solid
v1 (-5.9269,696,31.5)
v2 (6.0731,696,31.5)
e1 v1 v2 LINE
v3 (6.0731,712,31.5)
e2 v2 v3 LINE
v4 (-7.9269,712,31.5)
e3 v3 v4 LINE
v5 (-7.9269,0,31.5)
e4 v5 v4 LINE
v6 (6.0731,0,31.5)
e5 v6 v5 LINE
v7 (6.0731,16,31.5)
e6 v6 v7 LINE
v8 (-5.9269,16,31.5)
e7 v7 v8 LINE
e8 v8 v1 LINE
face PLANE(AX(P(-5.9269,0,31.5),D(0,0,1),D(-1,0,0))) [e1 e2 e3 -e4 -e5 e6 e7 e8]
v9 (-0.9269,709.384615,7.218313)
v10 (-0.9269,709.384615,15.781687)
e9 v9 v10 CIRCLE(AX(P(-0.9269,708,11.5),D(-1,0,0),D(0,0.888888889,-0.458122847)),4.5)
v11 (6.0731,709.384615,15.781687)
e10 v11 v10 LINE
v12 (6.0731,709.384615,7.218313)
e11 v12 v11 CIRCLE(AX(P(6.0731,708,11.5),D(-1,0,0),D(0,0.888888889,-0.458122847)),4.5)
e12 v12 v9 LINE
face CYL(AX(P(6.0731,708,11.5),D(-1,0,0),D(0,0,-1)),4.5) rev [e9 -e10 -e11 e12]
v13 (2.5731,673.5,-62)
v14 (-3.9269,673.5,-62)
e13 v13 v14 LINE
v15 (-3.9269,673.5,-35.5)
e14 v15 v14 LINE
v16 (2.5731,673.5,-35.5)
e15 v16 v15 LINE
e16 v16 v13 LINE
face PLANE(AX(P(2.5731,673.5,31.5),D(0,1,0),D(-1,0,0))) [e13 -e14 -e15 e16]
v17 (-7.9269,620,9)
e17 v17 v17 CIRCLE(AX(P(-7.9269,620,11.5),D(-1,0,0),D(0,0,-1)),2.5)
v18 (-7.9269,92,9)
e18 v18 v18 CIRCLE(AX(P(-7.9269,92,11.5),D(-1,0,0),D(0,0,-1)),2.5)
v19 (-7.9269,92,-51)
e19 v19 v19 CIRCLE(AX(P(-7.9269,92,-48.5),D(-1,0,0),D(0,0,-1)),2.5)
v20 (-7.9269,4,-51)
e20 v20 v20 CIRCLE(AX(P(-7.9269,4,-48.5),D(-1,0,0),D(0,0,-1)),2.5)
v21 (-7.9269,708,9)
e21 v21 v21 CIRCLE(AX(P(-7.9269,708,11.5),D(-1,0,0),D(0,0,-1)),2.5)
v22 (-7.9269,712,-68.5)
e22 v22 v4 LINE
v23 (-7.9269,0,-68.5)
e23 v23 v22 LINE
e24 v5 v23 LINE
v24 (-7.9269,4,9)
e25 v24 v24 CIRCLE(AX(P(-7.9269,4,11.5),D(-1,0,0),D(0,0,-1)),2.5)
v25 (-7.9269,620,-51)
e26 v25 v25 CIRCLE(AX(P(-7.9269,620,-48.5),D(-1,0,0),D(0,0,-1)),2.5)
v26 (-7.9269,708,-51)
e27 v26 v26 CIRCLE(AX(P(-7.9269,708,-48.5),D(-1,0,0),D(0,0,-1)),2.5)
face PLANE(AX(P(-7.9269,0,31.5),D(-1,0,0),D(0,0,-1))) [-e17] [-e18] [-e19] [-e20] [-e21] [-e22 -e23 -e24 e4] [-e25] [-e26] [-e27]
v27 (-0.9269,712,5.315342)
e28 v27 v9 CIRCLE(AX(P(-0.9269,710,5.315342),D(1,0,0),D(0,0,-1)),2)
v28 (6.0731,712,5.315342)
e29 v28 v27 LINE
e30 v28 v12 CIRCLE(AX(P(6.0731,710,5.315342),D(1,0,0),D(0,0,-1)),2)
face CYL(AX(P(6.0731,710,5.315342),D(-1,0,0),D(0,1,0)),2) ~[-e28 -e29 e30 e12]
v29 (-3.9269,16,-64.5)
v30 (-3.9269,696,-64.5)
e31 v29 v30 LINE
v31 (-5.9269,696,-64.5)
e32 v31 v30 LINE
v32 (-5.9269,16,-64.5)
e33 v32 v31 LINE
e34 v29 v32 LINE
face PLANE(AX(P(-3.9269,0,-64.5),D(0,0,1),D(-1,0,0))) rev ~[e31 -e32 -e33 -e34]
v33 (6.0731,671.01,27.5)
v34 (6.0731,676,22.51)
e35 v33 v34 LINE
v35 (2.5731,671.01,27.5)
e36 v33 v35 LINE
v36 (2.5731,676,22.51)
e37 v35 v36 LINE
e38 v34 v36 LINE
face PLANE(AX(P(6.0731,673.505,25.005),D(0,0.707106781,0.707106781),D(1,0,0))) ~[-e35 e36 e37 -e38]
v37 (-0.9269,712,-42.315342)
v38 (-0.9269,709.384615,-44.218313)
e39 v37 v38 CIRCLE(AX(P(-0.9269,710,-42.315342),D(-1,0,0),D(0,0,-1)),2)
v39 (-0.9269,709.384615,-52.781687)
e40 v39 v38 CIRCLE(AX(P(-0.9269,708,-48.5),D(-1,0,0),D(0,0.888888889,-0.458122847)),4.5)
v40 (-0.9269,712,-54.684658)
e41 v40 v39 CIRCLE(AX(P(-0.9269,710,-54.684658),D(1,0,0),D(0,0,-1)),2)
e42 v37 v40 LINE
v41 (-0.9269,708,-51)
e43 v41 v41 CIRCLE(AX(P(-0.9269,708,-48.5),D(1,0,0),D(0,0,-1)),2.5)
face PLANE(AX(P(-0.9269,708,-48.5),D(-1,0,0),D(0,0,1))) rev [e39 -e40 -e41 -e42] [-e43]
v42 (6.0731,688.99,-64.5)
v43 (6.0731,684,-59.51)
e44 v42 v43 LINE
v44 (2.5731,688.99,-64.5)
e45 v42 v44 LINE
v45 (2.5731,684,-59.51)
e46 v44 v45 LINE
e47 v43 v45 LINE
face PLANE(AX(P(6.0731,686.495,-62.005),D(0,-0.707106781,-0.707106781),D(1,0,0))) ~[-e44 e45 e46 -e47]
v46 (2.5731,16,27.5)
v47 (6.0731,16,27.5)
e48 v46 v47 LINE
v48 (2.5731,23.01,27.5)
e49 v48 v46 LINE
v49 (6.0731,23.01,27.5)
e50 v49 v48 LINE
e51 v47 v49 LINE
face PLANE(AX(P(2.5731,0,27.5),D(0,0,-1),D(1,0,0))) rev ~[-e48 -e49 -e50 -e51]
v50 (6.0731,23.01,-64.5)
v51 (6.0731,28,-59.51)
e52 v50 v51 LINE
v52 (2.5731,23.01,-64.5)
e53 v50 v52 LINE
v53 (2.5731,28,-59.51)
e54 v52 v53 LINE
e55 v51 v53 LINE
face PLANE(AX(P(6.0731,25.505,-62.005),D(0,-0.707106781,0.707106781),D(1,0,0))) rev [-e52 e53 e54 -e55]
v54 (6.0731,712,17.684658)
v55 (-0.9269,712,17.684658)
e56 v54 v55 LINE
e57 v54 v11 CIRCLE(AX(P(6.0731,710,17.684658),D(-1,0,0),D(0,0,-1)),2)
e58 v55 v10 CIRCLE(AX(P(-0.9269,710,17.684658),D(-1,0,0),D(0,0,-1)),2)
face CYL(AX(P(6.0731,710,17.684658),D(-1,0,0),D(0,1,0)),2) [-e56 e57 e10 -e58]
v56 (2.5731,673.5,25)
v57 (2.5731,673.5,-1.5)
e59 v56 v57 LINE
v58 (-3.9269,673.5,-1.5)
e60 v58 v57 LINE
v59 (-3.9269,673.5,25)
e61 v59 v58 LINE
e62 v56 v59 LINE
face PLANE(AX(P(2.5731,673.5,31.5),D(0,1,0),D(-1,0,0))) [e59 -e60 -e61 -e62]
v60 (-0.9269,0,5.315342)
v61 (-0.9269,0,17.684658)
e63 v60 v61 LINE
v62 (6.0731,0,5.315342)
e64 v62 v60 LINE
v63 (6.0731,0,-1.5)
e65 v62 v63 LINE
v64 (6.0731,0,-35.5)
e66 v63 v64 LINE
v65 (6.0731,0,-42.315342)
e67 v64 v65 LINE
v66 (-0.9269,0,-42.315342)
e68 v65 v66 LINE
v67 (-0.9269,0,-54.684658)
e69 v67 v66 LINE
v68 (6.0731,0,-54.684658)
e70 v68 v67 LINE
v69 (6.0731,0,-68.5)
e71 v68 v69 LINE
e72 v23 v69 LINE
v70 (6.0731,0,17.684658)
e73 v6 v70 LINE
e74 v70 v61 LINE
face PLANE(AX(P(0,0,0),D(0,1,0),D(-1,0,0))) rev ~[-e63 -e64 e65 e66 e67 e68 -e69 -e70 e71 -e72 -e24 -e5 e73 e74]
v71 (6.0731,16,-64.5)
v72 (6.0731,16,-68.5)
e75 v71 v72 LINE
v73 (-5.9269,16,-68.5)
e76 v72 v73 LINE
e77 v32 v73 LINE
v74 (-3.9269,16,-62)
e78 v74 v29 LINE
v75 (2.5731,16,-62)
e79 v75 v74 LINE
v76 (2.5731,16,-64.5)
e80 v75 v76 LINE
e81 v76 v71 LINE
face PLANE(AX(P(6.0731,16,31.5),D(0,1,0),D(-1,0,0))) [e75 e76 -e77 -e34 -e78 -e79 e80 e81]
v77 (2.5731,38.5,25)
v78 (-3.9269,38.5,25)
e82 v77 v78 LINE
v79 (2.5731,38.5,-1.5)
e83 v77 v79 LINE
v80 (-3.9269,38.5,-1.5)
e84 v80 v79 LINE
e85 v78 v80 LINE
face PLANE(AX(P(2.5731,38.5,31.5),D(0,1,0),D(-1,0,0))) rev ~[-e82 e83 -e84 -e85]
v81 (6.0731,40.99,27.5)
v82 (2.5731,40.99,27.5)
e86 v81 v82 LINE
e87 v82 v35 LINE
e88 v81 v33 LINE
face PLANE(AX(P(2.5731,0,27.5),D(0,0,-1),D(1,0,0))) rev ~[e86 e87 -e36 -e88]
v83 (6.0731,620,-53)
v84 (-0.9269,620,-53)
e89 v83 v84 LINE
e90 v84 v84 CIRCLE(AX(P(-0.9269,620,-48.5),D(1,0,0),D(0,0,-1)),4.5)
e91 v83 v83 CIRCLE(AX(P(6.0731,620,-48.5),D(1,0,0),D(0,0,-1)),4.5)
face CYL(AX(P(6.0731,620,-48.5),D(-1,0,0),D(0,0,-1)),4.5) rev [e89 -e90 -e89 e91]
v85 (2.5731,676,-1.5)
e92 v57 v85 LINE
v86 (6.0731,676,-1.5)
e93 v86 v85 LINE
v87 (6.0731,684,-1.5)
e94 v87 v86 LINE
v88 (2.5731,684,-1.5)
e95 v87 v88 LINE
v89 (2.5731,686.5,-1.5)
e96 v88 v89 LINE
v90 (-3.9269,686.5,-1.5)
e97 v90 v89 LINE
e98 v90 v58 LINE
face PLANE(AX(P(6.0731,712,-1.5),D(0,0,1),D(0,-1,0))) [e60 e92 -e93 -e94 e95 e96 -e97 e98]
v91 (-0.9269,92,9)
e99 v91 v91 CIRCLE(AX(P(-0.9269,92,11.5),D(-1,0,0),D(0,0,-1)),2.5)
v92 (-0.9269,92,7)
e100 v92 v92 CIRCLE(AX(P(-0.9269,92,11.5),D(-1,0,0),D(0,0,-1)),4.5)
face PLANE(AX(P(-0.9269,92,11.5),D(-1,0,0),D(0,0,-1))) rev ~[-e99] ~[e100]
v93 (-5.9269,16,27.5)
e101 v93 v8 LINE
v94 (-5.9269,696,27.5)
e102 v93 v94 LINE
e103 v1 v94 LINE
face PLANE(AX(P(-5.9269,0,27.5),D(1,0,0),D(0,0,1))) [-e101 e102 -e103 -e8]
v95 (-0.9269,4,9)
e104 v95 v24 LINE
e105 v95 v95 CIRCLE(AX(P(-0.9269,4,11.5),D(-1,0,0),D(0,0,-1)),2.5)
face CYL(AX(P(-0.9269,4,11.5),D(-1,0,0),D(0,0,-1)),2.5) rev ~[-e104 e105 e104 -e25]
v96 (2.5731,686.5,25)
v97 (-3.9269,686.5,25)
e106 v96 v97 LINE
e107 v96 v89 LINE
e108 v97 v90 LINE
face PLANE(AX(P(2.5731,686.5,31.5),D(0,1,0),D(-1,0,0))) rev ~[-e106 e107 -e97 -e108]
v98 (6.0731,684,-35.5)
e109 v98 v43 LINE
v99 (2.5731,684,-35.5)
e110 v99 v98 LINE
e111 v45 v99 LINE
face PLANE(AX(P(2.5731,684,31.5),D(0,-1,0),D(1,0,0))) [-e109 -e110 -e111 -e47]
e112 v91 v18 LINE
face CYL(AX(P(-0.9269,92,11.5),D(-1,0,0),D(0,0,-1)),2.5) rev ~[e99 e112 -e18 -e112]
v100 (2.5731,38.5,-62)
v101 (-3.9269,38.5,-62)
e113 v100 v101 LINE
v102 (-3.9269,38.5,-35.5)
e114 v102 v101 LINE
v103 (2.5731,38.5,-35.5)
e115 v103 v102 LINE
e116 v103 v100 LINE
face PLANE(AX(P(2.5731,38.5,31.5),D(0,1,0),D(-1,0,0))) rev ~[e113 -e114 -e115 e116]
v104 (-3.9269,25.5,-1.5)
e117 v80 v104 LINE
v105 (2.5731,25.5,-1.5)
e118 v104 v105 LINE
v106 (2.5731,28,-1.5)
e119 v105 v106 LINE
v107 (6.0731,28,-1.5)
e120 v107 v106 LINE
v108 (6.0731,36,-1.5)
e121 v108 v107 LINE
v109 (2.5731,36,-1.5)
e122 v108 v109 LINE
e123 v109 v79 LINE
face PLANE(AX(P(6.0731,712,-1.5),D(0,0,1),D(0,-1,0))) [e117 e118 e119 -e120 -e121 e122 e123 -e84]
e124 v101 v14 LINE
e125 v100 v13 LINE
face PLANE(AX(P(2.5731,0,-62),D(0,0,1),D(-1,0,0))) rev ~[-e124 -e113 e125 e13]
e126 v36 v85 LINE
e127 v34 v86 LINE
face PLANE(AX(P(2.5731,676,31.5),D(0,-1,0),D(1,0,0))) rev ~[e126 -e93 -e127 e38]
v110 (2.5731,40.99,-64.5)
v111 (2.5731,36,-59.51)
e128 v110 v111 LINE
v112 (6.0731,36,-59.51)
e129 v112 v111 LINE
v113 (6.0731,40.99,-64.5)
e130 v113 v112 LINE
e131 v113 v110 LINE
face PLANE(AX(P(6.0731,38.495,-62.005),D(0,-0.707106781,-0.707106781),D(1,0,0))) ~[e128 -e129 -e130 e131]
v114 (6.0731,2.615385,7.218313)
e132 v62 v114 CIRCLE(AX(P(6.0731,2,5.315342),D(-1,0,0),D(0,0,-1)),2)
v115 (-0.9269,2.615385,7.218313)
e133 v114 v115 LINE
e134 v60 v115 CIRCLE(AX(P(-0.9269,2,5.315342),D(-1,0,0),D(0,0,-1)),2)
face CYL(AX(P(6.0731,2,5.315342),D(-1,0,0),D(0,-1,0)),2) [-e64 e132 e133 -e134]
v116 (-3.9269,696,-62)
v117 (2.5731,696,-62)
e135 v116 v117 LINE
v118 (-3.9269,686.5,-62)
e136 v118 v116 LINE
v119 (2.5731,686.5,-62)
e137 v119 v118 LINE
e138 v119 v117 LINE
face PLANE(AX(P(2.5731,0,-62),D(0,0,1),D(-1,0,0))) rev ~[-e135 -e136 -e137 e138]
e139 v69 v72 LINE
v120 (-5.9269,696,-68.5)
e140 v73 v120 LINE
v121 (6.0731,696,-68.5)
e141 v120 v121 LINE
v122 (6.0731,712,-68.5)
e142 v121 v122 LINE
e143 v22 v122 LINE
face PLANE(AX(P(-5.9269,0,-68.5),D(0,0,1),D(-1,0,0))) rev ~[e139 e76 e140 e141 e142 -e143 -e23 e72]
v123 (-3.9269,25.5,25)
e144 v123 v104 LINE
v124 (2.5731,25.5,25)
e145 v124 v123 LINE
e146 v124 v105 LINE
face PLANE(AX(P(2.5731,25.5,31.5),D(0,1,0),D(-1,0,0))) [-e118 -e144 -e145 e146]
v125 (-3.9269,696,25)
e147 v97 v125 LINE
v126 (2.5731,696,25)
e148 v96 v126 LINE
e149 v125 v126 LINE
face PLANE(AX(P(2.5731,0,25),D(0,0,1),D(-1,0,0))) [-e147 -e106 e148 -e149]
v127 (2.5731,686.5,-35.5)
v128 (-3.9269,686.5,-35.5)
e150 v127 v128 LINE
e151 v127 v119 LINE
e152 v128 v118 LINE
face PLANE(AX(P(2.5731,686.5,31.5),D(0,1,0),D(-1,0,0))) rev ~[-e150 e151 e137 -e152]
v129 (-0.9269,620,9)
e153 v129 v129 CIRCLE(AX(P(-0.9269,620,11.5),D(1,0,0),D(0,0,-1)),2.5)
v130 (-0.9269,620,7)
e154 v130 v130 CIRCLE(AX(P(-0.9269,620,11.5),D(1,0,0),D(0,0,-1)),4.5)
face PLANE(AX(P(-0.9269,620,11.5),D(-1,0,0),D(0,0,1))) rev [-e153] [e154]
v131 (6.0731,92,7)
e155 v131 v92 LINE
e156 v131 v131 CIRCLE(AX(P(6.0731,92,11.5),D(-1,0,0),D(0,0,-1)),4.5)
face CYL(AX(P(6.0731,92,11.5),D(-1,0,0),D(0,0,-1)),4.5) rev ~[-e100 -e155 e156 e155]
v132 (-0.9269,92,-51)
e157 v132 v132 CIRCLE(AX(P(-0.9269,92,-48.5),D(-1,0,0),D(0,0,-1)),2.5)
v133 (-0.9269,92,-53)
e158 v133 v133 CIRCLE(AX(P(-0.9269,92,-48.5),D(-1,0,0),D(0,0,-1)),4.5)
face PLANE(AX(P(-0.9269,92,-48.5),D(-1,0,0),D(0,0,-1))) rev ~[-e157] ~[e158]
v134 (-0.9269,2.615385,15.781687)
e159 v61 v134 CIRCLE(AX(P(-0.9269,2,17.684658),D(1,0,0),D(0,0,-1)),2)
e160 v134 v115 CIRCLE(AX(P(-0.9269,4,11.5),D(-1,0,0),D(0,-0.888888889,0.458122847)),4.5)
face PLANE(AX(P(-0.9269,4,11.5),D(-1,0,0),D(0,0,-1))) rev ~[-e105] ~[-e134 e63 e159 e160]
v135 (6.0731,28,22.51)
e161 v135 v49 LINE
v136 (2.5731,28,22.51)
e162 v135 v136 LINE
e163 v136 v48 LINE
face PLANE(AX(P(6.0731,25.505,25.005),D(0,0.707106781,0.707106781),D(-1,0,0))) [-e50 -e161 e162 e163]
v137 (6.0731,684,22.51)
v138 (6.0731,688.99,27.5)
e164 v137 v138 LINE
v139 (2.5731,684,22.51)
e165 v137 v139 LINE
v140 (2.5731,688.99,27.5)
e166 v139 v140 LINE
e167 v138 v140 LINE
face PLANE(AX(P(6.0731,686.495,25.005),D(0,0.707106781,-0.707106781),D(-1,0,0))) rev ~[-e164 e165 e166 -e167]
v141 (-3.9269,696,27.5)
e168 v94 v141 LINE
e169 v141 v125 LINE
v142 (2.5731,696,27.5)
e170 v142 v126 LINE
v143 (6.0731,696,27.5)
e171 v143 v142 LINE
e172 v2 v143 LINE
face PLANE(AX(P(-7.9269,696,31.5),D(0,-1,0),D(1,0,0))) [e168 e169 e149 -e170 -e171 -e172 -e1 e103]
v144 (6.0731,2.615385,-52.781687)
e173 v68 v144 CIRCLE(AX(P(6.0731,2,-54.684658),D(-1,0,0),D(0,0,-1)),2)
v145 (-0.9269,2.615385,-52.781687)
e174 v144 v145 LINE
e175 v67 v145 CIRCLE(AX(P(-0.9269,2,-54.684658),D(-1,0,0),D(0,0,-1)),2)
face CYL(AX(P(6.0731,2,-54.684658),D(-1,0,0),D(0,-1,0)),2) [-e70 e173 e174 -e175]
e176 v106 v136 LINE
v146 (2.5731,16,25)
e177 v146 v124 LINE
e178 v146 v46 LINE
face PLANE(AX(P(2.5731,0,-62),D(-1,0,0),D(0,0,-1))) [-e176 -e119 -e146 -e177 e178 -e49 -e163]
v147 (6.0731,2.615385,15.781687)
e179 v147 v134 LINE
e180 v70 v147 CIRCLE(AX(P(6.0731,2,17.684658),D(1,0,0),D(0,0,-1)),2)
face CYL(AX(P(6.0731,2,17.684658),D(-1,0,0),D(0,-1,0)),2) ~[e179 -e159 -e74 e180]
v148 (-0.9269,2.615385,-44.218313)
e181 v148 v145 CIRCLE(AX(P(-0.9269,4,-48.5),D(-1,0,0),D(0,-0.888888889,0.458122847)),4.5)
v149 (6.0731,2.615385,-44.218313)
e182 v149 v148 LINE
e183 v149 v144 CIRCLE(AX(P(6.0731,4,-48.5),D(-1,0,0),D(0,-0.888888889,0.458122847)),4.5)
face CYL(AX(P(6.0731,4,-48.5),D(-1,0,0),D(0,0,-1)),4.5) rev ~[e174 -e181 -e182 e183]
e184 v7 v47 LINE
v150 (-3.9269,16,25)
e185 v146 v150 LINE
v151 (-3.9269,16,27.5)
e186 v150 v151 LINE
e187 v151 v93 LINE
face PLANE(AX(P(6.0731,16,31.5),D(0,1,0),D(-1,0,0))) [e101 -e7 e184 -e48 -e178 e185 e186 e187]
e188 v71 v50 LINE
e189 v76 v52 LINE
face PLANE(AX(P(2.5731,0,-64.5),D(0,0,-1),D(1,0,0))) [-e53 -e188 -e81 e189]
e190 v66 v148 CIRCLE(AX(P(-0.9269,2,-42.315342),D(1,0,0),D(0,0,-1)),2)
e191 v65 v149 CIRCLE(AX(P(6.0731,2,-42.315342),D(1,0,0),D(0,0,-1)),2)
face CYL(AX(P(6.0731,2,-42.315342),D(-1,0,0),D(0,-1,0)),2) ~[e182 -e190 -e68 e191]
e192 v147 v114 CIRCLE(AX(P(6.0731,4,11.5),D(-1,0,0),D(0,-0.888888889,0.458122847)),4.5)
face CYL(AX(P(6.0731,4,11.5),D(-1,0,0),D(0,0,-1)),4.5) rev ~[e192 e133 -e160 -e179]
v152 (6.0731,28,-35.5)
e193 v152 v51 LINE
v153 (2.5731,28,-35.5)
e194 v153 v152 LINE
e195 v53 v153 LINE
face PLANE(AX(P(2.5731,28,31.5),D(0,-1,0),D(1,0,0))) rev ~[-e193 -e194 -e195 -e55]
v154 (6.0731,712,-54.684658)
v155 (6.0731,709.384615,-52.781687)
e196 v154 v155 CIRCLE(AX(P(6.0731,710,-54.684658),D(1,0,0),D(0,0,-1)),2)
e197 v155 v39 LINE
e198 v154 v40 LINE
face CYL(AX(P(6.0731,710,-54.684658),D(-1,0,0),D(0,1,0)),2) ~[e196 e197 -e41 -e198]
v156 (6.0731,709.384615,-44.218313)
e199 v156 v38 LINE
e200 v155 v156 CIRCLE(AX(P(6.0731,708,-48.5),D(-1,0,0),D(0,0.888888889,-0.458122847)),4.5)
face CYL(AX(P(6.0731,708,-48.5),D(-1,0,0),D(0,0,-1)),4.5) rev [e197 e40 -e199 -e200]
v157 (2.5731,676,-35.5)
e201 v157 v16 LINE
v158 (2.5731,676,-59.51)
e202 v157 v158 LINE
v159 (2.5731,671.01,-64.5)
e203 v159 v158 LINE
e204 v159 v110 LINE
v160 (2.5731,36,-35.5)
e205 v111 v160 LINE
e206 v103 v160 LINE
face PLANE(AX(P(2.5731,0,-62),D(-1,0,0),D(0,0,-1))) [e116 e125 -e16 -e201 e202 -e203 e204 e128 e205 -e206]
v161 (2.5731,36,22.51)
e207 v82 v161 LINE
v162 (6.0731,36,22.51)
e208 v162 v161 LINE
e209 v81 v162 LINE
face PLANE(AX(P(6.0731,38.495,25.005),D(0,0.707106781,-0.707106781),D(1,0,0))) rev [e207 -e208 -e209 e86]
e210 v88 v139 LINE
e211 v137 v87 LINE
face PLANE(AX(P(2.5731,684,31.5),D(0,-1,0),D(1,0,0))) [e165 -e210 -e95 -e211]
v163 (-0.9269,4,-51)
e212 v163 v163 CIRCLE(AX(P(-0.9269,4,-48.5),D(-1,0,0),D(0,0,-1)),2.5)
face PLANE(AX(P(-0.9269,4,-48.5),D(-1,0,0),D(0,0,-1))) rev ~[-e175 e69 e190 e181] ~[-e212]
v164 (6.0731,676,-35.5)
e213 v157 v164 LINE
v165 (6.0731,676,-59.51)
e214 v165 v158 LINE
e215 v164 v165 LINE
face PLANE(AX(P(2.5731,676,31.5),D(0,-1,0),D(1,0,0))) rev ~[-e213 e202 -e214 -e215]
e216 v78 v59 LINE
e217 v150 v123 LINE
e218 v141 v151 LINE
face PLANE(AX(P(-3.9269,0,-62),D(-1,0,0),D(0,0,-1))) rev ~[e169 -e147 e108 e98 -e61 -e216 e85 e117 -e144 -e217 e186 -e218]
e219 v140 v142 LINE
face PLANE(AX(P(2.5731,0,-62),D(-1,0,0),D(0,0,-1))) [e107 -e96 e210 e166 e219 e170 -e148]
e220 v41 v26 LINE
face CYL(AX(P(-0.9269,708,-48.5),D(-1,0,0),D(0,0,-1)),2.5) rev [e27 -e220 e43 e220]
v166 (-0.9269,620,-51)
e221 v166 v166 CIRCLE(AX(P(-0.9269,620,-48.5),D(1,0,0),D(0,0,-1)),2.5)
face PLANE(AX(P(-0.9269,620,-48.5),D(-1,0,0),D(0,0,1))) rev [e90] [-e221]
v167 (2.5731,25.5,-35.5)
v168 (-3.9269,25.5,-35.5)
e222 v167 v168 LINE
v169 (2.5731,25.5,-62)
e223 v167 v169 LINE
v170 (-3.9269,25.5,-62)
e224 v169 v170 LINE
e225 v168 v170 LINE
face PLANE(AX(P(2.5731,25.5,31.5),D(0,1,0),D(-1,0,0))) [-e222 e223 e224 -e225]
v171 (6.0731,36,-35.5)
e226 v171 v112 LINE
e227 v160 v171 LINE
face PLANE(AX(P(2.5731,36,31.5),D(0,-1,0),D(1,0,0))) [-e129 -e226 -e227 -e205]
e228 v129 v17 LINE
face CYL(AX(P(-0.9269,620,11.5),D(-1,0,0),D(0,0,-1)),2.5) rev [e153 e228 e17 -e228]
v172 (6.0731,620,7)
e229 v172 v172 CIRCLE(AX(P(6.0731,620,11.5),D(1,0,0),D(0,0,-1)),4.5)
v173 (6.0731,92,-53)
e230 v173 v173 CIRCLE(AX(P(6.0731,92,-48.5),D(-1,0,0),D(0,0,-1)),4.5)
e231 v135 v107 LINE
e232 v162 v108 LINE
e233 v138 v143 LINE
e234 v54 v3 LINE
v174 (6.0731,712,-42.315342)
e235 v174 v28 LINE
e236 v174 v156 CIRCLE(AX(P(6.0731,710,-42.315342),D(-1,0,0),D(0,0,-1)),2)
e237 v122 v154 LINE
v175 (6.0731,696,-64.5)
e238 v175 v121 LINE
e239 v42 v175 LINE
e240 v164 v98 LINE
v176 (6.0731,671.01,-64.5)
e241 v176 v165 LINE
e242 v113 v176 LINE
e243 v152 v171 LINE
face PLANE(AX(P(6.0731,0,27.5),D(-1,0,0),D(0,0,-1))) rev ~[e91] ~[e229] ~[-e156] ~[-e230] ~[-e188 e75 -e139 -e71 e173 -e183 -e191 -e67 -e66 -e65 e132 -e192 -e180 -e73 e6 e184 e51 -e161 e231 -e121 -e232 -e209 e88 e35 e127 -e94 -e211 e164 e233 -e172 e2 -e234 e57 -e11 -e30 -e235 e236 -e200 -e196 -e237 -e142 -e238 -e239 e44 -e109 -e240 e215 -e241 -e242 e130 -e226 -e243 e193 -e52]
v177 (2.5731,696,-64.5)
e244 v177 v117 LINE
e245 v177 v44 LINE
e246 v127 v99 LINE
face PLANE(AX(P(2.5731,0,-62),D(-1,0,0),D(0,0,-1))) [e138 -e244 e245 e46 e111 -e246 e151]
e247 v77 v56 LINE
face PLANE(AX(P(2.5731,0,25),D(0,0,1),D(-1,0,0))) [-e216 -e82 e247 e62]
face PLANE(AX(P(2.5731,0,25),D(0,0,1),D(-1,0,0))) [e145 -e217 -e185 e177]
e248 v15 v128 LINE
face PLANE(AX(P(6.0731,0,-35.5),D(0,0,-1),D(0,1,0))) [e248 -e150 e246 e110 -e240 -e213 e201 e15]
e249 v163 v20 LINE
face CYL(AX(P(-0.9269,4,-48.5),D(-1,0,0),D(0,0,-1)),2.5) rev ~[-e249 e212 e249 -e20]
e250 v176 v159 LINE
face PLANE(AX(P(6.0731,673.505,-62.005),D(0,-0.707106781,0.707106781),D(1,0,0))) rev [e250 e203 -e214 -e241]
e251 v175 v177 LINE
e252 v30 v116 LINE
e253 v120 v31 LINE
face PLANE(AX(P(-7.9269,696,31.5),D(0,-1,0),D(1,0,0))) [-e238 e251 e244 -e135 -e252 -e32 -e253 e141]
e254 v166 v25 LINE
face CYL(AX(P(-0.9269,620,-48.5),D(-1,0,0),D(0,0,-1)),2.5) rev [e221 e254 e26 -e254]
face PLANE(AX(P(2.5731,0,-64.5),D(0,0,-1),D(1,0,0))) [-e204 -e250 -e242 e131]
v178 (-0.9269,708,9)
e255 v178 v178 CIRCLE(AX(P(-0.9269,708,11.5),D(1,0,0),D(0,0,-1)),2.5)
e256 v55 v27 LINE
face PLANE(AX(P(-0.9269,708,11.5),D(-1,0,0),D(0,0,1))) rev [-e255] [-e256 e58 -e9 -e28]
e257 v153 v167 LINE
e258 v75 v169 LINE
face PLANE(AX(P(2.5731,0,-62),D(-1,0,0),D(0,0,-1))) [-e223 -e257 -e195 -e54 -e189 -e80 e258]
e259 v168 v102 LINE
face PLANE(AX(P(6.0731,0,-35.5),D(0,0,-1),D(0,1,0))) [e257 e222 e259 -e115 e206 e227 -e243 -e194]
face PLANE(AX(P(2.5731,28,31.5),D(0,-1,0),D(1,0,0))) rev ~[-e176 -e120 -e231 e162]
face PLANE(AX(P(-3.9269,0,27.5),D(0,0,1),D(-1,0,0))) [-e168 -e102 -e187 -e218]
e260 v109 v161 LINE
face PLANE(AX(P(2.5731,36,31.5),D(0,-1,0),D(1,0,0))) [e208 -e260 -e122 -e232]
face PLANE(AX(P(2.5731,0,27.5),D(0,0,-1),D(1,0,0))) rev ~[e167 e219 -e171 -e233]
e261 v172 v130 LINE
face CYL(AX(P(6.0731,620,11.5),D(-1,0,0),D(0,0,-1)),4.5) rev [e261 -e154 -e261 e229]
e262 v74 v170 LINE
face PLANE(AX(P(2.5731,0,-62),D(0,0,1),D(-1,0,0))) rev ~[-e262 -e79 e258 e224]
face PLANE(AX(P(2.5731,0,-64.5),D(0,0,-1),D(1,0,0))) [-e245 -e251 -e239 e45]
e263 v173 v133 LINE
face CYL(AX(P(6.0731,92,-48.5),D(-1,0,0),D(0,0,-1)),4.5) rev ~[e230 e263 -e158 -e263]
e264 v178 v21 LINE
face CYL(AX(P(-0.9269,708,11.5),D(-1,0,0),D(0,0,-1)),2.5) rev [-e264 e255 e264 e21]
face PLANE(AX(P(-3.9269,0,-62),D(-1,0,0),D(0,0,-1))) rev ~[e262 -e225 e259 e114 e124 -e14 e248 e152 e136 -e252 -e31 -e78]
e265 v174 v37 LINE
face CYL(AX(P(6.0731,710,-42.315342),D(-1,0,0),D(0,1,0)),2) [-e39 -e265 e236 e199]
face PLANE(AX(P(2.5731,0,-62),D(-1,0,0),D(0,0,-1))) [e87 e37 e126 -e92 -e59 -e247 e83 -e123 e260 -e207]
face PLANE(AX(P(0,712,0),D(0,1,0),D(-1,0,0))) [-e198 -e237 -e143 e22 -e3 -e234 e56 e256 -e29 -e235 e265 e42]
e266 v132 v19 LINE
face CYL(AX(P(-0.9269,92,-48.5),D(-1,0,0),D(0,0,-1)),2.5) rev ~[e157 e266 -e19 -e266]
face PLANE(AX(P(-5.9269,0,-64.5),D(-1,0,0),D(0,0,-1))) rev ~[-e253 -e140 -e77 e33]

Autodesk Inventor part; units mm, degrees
ref_plane "YZ Plane" through (0, 0, 0) normal (1, 0, 0) x (0, 1, 0)
ref_plane "XZ Plane" through (0, 0, 0) normal (0, 1, 0) x (-1, 0, 0)
ref_plane "XY Plane" through (0, 0, 0) normal (0, 0, 1) x (1, 0, 0)
sketch "Эскиз1" plane through (0, 0, 0) normal (0, 1, 0) x (-1, 0, 0)
  line L0 (-6.0731, 25) -> (3.9269, 25)
  line L1 (-6.0731, -62) -> (-6.0731, 25)
  line L2 (3.9269, 31.5) -> (7.9269, 31.5)
  line L3 (7.9269, 31.5) -> (7.9269, -68.5)
  line L4 (3.9269, 25) -> (3.9269, 31.5)
  line L5 (-6.0731, 25) -> (-2.5731, 25)
  line L6 (-2.5731, 25) -> (-2.5731, 27.5)
  line L7 (-2.5731, 27.5) -> (-6.0731, 27.5)
  line L8 (-6.0731, 27.5) -> (-6.0731, 25)
  line L9 (3.9269, 27.5) -> (5.9269, 27.5)
  line L10 (5.9269, 27.5) -> (5.9269, 31.5)
  line L11 (5.9269, 31.5) -> (3.9269, 31.5)
  line L12 (3.9269, 31.5) -> (3.9269, 27.5)
  line L13 (7.9269, -18.5) -> (10, -18.5)
  line L14 (-6.0731, -62) -> (3.9269, -62)
  line L15 (3.9269, -68.5) -> (7.9269, -68.5)
  line L16 (3.9269, -62) -> (3.9269, -68.5)
  line L17 (-6.0731, -62) -> (-2.5731, -62)
  line L18 (-2.5731, -62) -> (-2.5731, -64.5)
  line L19 (-2.5731, -64.5) -> (-6.0731, -64.5)
  line L20 (-6.0731, -64.5) -> (-6.0731, -62)
  line L21 (3.9269, -64.5) -> (5.9269, -64.5)
  line L22 (5.9269, -64.5) -> (5.9269, -68.5)
  line L23 (5.9269, -68.5) -> (3.9269, -68.5)
  line L24 (3.9269, -68.5) -> (3.9269, -64.5)
  point P0 (0, 0)
  point P1 (-2.5731, 25)
  dimension "d0" = 14
  dimension "d1" = 6.5
  dimension "d2" = 6.5
  dimension "d3" = 2.5
  dimension "d4" = 4
  dimension "d5" = 2
  dimension "d6" = 100
  dimension "d7" = 50
extrude "Выдавливание1" add sketch "Эскиз1" along normal blind 712 contours L8 L7 L6 L0 | L0 L4 L9 L10 L2 L3 L15 L22 L21 L16 L14 L1 | L14 L18 L19 L20
sketch "Эскиз5" plane through (-5.9269, 0, 31.5) normal (0, 0, 1) x (1, 0, 0)
  line L0 (-2, 0) -> (12, 0)
  line L1 (12, 0) -> (12, 16)
  line L2 (12, 16) -> (-2, 16)
  line L3 (-2, 16) -> (-2, 0)
  line L4 (-2, 0) -> (-2, 712) projected
  line L5 (12, 712) -> (8.5, 712) projected
  line L6 (12, 712) -> (-2, 712)
  line L7 (-2, 712) -> (-2, 696)
  line L8 (-2, 696) -> (12, 696)
  line L9 (12, 696) -> (12, 712)
  point P0 (5.9269, 0)
  dimension "d18" = 16
  dimension "d19" = 0
  dimension "d20" = 16
extrude "Выдавливание3" add sketch "Эскиз5" against normal blind 100
sketch "Эскиз6" plane through (-7.9269, 0, 31.5) normal (0, 0, 1) x (1, 0, 0)
  line L0 (14, 25.5) -> (4, 25.5)
  line L1 (14, 25.5) -> (10.5, 25.5)
  line L2 (10.5, 25.5) -> (10.5, 28)
  line L3 (10.5, 28) -> (14, 28)
  line L4 (14, 28) -> (14, 25.5)
  line L5 (4, 32) -> (0, 32)
  line L6 (2, 28) -> (2, 32)
  line L7 (2, 32) -> (4, 32)
  line L8 (4, 32) -> (4, 28)
  line L9 (4, 25.5) -> (4, 32)
  line L10 (4, 28) -> (2, 28)
  line L11 (14, 38.5) -> (4, 38.5)
  line L12 (14, 38.5) -> (10.5, 38.5)
  line L13 (10.5, 36) -> (14, 36)
  line L14 (14, 36) -> (14, 38.5)
  line L15 (10.5, 38.5) -> (10.5, 36)
  line L16 (4, 36) -> (2, 36)
  line L17 (2, 36) -> (2, 32)
  line L18 (4, 32) -> (4, 36)
  line L19 (4, 38.5) -> (4, 32)
  line L20 (14, 36) -> (14, 28)
  line L21 (14, 16) -> (14, 696) projected
  line L22 (14, 356) -> (16, 356)
  line L23 (0, 0) -> (14, 0) projected
  line L24 (14, 686.5) -> (4, 686.5)
  line L25 (14, 686.5) -> (10.5, 686.5)
  line L26 (10.5, 684) -> (14, 684)
  line L27 (14, 684) -> (14, 686.5)
  line L28 (10.5, 686.5) -> (10.5, 684)
  line L29 (4, 684) -> (2, 684)
  line L30 (4, 680) -> (0, 680)
  line L31 (2, 684) -> (2, 680)
  line L32 (2, 680) -> (4, 680)
  line L33 (4, 680) -> (4, 684)
  line L34 (4, 686.5) -> (4, 680)
  line L35 (14, 673.5) -> (4, 673.5)
  line L36 (14, 673.5) -> (10.5, 673.5)
  line L37 (10.5, 676) -> (14, 676)
  line L38 (14, 676) -> (14, 673.5)
  line L39 (10.5, 673.5) -> (10.5, 676)
  line L40 (4, 676) -> (2, 676)
  line L41 (2, 676) -> (2, 680)
  line L42 (4, 680) -> (4, 676)
  line L43 (4, 673.5) -> (4, 680)
  line L44 (14, 676) -> (14, 684)
  point P0 (7.9269, 0)
  dimension "d26" = 356
extrude "Выдавливание4" cut sketch "Эскиз6" against normal blind 100 contours L0 L9 L8 L18 L19 L11 L15 L13 L20 L3 L2 | L37 L39 L35 L43 L42 L33 L34 L24 L28 L26 L21
chamfer "Фаска2" distance 4.99 angle 45 8 edges at (4.3231, 684, 27.5) (4.3231, 676, 27.5) (4.3231, 36, 27.5) (4.3231, 28, 27.5) (4.3231, 36, -64.5) (4.3231, 28, -64.5) (4.3231, 684, -64.5) (4.3231, 676, -64.5)
sketch "Эскиз7" plane through (6.0731, 40.99, 27.5) normal (1, 0, 0) x (0, 0, -1)
  circle A0 centre (76, 51.01) radius 2.5
  circle A1 centre (16, 51.01) radius 2.5
  line L0 (-4, -24.99) -> (-4, 655.01) projected
  line L1 (96, -24.99) -> (96, 655.01) projected
  line L2 (-4, -40.99) -> (96, -40.99) projected
  circle A2 centre (76, -36.99) radius 2.5
  circle A3 centre (16, -36.99) radius 2.5
  point P0 (27.5, -40.99)
  dimension "d32" = 5
  dimension "d33" = 20
  dimension "d34" = 20
  dimension "d35" = 5
  dimension "d36" = 92
  dimension "d37" = 92
  dimension "d38" = 5
  dimension "d39" = 5
  dimension "d40" = 4
  dimension "d41" = 4
ref_plane "РабПлоскость1" through (0, 356, 0) normal (0, -1, 0) x (1, 0, 0)
hole "Отверстие1" at (6.0731, 4, 11.5) at (6.0731, 4, -48.5) at (6.0731, 92, -48.5) at (6.0731, 92, 11.5) direction (-1, 0, 0) diameter 5 end through all counterbore diameter 9 counterbore depth 7
mirror "Зеркальное отражение1" about plane through (0, 356, 0) normal (0, -1, 0) of "Отверстие1"
fillet "Сопряжение2" radius 2 8 edges at (2.5731, 0, -50.5616) (2.5731, 0, -46.4384) (2.5731, 0, 9.4384) (2.5731, 0, 13.5616) (2.5731, 712, -50.5616) (2.5731, 712, -46.4384) (2.5731, 712, 9.4384) (2.5731, 712, 13.5616)
sketch "Sketch8" plane through (6.0731, 40.99, 27.5) normal (1, 0, 0) x (0, 0, -1)
  line L0 (96, -40.99) -> (-4, -40.99) projected
  circle A0 centre (46, -40.99) radius 17
  line L1 (96, 671.01) -> (-4, 671.01) projected
  line L2 (29, -40.99) -> (63, -40.99)
  line L3 (63, -40.99) -> (63, 671.01)
  line L4 (63, 671.01) -> (29, 671.01)
  line L5 (29, 671.01) -> (29, -40.99)
  point P0 (27.5, -40.99)
  dimension "d51" = 34
extrude "Extrusion5" add sketch "Sketch8" against normal blind 10 contours A0 L5 L1 L3
properties part number "TopPaz" material "Алюминий 6061"
